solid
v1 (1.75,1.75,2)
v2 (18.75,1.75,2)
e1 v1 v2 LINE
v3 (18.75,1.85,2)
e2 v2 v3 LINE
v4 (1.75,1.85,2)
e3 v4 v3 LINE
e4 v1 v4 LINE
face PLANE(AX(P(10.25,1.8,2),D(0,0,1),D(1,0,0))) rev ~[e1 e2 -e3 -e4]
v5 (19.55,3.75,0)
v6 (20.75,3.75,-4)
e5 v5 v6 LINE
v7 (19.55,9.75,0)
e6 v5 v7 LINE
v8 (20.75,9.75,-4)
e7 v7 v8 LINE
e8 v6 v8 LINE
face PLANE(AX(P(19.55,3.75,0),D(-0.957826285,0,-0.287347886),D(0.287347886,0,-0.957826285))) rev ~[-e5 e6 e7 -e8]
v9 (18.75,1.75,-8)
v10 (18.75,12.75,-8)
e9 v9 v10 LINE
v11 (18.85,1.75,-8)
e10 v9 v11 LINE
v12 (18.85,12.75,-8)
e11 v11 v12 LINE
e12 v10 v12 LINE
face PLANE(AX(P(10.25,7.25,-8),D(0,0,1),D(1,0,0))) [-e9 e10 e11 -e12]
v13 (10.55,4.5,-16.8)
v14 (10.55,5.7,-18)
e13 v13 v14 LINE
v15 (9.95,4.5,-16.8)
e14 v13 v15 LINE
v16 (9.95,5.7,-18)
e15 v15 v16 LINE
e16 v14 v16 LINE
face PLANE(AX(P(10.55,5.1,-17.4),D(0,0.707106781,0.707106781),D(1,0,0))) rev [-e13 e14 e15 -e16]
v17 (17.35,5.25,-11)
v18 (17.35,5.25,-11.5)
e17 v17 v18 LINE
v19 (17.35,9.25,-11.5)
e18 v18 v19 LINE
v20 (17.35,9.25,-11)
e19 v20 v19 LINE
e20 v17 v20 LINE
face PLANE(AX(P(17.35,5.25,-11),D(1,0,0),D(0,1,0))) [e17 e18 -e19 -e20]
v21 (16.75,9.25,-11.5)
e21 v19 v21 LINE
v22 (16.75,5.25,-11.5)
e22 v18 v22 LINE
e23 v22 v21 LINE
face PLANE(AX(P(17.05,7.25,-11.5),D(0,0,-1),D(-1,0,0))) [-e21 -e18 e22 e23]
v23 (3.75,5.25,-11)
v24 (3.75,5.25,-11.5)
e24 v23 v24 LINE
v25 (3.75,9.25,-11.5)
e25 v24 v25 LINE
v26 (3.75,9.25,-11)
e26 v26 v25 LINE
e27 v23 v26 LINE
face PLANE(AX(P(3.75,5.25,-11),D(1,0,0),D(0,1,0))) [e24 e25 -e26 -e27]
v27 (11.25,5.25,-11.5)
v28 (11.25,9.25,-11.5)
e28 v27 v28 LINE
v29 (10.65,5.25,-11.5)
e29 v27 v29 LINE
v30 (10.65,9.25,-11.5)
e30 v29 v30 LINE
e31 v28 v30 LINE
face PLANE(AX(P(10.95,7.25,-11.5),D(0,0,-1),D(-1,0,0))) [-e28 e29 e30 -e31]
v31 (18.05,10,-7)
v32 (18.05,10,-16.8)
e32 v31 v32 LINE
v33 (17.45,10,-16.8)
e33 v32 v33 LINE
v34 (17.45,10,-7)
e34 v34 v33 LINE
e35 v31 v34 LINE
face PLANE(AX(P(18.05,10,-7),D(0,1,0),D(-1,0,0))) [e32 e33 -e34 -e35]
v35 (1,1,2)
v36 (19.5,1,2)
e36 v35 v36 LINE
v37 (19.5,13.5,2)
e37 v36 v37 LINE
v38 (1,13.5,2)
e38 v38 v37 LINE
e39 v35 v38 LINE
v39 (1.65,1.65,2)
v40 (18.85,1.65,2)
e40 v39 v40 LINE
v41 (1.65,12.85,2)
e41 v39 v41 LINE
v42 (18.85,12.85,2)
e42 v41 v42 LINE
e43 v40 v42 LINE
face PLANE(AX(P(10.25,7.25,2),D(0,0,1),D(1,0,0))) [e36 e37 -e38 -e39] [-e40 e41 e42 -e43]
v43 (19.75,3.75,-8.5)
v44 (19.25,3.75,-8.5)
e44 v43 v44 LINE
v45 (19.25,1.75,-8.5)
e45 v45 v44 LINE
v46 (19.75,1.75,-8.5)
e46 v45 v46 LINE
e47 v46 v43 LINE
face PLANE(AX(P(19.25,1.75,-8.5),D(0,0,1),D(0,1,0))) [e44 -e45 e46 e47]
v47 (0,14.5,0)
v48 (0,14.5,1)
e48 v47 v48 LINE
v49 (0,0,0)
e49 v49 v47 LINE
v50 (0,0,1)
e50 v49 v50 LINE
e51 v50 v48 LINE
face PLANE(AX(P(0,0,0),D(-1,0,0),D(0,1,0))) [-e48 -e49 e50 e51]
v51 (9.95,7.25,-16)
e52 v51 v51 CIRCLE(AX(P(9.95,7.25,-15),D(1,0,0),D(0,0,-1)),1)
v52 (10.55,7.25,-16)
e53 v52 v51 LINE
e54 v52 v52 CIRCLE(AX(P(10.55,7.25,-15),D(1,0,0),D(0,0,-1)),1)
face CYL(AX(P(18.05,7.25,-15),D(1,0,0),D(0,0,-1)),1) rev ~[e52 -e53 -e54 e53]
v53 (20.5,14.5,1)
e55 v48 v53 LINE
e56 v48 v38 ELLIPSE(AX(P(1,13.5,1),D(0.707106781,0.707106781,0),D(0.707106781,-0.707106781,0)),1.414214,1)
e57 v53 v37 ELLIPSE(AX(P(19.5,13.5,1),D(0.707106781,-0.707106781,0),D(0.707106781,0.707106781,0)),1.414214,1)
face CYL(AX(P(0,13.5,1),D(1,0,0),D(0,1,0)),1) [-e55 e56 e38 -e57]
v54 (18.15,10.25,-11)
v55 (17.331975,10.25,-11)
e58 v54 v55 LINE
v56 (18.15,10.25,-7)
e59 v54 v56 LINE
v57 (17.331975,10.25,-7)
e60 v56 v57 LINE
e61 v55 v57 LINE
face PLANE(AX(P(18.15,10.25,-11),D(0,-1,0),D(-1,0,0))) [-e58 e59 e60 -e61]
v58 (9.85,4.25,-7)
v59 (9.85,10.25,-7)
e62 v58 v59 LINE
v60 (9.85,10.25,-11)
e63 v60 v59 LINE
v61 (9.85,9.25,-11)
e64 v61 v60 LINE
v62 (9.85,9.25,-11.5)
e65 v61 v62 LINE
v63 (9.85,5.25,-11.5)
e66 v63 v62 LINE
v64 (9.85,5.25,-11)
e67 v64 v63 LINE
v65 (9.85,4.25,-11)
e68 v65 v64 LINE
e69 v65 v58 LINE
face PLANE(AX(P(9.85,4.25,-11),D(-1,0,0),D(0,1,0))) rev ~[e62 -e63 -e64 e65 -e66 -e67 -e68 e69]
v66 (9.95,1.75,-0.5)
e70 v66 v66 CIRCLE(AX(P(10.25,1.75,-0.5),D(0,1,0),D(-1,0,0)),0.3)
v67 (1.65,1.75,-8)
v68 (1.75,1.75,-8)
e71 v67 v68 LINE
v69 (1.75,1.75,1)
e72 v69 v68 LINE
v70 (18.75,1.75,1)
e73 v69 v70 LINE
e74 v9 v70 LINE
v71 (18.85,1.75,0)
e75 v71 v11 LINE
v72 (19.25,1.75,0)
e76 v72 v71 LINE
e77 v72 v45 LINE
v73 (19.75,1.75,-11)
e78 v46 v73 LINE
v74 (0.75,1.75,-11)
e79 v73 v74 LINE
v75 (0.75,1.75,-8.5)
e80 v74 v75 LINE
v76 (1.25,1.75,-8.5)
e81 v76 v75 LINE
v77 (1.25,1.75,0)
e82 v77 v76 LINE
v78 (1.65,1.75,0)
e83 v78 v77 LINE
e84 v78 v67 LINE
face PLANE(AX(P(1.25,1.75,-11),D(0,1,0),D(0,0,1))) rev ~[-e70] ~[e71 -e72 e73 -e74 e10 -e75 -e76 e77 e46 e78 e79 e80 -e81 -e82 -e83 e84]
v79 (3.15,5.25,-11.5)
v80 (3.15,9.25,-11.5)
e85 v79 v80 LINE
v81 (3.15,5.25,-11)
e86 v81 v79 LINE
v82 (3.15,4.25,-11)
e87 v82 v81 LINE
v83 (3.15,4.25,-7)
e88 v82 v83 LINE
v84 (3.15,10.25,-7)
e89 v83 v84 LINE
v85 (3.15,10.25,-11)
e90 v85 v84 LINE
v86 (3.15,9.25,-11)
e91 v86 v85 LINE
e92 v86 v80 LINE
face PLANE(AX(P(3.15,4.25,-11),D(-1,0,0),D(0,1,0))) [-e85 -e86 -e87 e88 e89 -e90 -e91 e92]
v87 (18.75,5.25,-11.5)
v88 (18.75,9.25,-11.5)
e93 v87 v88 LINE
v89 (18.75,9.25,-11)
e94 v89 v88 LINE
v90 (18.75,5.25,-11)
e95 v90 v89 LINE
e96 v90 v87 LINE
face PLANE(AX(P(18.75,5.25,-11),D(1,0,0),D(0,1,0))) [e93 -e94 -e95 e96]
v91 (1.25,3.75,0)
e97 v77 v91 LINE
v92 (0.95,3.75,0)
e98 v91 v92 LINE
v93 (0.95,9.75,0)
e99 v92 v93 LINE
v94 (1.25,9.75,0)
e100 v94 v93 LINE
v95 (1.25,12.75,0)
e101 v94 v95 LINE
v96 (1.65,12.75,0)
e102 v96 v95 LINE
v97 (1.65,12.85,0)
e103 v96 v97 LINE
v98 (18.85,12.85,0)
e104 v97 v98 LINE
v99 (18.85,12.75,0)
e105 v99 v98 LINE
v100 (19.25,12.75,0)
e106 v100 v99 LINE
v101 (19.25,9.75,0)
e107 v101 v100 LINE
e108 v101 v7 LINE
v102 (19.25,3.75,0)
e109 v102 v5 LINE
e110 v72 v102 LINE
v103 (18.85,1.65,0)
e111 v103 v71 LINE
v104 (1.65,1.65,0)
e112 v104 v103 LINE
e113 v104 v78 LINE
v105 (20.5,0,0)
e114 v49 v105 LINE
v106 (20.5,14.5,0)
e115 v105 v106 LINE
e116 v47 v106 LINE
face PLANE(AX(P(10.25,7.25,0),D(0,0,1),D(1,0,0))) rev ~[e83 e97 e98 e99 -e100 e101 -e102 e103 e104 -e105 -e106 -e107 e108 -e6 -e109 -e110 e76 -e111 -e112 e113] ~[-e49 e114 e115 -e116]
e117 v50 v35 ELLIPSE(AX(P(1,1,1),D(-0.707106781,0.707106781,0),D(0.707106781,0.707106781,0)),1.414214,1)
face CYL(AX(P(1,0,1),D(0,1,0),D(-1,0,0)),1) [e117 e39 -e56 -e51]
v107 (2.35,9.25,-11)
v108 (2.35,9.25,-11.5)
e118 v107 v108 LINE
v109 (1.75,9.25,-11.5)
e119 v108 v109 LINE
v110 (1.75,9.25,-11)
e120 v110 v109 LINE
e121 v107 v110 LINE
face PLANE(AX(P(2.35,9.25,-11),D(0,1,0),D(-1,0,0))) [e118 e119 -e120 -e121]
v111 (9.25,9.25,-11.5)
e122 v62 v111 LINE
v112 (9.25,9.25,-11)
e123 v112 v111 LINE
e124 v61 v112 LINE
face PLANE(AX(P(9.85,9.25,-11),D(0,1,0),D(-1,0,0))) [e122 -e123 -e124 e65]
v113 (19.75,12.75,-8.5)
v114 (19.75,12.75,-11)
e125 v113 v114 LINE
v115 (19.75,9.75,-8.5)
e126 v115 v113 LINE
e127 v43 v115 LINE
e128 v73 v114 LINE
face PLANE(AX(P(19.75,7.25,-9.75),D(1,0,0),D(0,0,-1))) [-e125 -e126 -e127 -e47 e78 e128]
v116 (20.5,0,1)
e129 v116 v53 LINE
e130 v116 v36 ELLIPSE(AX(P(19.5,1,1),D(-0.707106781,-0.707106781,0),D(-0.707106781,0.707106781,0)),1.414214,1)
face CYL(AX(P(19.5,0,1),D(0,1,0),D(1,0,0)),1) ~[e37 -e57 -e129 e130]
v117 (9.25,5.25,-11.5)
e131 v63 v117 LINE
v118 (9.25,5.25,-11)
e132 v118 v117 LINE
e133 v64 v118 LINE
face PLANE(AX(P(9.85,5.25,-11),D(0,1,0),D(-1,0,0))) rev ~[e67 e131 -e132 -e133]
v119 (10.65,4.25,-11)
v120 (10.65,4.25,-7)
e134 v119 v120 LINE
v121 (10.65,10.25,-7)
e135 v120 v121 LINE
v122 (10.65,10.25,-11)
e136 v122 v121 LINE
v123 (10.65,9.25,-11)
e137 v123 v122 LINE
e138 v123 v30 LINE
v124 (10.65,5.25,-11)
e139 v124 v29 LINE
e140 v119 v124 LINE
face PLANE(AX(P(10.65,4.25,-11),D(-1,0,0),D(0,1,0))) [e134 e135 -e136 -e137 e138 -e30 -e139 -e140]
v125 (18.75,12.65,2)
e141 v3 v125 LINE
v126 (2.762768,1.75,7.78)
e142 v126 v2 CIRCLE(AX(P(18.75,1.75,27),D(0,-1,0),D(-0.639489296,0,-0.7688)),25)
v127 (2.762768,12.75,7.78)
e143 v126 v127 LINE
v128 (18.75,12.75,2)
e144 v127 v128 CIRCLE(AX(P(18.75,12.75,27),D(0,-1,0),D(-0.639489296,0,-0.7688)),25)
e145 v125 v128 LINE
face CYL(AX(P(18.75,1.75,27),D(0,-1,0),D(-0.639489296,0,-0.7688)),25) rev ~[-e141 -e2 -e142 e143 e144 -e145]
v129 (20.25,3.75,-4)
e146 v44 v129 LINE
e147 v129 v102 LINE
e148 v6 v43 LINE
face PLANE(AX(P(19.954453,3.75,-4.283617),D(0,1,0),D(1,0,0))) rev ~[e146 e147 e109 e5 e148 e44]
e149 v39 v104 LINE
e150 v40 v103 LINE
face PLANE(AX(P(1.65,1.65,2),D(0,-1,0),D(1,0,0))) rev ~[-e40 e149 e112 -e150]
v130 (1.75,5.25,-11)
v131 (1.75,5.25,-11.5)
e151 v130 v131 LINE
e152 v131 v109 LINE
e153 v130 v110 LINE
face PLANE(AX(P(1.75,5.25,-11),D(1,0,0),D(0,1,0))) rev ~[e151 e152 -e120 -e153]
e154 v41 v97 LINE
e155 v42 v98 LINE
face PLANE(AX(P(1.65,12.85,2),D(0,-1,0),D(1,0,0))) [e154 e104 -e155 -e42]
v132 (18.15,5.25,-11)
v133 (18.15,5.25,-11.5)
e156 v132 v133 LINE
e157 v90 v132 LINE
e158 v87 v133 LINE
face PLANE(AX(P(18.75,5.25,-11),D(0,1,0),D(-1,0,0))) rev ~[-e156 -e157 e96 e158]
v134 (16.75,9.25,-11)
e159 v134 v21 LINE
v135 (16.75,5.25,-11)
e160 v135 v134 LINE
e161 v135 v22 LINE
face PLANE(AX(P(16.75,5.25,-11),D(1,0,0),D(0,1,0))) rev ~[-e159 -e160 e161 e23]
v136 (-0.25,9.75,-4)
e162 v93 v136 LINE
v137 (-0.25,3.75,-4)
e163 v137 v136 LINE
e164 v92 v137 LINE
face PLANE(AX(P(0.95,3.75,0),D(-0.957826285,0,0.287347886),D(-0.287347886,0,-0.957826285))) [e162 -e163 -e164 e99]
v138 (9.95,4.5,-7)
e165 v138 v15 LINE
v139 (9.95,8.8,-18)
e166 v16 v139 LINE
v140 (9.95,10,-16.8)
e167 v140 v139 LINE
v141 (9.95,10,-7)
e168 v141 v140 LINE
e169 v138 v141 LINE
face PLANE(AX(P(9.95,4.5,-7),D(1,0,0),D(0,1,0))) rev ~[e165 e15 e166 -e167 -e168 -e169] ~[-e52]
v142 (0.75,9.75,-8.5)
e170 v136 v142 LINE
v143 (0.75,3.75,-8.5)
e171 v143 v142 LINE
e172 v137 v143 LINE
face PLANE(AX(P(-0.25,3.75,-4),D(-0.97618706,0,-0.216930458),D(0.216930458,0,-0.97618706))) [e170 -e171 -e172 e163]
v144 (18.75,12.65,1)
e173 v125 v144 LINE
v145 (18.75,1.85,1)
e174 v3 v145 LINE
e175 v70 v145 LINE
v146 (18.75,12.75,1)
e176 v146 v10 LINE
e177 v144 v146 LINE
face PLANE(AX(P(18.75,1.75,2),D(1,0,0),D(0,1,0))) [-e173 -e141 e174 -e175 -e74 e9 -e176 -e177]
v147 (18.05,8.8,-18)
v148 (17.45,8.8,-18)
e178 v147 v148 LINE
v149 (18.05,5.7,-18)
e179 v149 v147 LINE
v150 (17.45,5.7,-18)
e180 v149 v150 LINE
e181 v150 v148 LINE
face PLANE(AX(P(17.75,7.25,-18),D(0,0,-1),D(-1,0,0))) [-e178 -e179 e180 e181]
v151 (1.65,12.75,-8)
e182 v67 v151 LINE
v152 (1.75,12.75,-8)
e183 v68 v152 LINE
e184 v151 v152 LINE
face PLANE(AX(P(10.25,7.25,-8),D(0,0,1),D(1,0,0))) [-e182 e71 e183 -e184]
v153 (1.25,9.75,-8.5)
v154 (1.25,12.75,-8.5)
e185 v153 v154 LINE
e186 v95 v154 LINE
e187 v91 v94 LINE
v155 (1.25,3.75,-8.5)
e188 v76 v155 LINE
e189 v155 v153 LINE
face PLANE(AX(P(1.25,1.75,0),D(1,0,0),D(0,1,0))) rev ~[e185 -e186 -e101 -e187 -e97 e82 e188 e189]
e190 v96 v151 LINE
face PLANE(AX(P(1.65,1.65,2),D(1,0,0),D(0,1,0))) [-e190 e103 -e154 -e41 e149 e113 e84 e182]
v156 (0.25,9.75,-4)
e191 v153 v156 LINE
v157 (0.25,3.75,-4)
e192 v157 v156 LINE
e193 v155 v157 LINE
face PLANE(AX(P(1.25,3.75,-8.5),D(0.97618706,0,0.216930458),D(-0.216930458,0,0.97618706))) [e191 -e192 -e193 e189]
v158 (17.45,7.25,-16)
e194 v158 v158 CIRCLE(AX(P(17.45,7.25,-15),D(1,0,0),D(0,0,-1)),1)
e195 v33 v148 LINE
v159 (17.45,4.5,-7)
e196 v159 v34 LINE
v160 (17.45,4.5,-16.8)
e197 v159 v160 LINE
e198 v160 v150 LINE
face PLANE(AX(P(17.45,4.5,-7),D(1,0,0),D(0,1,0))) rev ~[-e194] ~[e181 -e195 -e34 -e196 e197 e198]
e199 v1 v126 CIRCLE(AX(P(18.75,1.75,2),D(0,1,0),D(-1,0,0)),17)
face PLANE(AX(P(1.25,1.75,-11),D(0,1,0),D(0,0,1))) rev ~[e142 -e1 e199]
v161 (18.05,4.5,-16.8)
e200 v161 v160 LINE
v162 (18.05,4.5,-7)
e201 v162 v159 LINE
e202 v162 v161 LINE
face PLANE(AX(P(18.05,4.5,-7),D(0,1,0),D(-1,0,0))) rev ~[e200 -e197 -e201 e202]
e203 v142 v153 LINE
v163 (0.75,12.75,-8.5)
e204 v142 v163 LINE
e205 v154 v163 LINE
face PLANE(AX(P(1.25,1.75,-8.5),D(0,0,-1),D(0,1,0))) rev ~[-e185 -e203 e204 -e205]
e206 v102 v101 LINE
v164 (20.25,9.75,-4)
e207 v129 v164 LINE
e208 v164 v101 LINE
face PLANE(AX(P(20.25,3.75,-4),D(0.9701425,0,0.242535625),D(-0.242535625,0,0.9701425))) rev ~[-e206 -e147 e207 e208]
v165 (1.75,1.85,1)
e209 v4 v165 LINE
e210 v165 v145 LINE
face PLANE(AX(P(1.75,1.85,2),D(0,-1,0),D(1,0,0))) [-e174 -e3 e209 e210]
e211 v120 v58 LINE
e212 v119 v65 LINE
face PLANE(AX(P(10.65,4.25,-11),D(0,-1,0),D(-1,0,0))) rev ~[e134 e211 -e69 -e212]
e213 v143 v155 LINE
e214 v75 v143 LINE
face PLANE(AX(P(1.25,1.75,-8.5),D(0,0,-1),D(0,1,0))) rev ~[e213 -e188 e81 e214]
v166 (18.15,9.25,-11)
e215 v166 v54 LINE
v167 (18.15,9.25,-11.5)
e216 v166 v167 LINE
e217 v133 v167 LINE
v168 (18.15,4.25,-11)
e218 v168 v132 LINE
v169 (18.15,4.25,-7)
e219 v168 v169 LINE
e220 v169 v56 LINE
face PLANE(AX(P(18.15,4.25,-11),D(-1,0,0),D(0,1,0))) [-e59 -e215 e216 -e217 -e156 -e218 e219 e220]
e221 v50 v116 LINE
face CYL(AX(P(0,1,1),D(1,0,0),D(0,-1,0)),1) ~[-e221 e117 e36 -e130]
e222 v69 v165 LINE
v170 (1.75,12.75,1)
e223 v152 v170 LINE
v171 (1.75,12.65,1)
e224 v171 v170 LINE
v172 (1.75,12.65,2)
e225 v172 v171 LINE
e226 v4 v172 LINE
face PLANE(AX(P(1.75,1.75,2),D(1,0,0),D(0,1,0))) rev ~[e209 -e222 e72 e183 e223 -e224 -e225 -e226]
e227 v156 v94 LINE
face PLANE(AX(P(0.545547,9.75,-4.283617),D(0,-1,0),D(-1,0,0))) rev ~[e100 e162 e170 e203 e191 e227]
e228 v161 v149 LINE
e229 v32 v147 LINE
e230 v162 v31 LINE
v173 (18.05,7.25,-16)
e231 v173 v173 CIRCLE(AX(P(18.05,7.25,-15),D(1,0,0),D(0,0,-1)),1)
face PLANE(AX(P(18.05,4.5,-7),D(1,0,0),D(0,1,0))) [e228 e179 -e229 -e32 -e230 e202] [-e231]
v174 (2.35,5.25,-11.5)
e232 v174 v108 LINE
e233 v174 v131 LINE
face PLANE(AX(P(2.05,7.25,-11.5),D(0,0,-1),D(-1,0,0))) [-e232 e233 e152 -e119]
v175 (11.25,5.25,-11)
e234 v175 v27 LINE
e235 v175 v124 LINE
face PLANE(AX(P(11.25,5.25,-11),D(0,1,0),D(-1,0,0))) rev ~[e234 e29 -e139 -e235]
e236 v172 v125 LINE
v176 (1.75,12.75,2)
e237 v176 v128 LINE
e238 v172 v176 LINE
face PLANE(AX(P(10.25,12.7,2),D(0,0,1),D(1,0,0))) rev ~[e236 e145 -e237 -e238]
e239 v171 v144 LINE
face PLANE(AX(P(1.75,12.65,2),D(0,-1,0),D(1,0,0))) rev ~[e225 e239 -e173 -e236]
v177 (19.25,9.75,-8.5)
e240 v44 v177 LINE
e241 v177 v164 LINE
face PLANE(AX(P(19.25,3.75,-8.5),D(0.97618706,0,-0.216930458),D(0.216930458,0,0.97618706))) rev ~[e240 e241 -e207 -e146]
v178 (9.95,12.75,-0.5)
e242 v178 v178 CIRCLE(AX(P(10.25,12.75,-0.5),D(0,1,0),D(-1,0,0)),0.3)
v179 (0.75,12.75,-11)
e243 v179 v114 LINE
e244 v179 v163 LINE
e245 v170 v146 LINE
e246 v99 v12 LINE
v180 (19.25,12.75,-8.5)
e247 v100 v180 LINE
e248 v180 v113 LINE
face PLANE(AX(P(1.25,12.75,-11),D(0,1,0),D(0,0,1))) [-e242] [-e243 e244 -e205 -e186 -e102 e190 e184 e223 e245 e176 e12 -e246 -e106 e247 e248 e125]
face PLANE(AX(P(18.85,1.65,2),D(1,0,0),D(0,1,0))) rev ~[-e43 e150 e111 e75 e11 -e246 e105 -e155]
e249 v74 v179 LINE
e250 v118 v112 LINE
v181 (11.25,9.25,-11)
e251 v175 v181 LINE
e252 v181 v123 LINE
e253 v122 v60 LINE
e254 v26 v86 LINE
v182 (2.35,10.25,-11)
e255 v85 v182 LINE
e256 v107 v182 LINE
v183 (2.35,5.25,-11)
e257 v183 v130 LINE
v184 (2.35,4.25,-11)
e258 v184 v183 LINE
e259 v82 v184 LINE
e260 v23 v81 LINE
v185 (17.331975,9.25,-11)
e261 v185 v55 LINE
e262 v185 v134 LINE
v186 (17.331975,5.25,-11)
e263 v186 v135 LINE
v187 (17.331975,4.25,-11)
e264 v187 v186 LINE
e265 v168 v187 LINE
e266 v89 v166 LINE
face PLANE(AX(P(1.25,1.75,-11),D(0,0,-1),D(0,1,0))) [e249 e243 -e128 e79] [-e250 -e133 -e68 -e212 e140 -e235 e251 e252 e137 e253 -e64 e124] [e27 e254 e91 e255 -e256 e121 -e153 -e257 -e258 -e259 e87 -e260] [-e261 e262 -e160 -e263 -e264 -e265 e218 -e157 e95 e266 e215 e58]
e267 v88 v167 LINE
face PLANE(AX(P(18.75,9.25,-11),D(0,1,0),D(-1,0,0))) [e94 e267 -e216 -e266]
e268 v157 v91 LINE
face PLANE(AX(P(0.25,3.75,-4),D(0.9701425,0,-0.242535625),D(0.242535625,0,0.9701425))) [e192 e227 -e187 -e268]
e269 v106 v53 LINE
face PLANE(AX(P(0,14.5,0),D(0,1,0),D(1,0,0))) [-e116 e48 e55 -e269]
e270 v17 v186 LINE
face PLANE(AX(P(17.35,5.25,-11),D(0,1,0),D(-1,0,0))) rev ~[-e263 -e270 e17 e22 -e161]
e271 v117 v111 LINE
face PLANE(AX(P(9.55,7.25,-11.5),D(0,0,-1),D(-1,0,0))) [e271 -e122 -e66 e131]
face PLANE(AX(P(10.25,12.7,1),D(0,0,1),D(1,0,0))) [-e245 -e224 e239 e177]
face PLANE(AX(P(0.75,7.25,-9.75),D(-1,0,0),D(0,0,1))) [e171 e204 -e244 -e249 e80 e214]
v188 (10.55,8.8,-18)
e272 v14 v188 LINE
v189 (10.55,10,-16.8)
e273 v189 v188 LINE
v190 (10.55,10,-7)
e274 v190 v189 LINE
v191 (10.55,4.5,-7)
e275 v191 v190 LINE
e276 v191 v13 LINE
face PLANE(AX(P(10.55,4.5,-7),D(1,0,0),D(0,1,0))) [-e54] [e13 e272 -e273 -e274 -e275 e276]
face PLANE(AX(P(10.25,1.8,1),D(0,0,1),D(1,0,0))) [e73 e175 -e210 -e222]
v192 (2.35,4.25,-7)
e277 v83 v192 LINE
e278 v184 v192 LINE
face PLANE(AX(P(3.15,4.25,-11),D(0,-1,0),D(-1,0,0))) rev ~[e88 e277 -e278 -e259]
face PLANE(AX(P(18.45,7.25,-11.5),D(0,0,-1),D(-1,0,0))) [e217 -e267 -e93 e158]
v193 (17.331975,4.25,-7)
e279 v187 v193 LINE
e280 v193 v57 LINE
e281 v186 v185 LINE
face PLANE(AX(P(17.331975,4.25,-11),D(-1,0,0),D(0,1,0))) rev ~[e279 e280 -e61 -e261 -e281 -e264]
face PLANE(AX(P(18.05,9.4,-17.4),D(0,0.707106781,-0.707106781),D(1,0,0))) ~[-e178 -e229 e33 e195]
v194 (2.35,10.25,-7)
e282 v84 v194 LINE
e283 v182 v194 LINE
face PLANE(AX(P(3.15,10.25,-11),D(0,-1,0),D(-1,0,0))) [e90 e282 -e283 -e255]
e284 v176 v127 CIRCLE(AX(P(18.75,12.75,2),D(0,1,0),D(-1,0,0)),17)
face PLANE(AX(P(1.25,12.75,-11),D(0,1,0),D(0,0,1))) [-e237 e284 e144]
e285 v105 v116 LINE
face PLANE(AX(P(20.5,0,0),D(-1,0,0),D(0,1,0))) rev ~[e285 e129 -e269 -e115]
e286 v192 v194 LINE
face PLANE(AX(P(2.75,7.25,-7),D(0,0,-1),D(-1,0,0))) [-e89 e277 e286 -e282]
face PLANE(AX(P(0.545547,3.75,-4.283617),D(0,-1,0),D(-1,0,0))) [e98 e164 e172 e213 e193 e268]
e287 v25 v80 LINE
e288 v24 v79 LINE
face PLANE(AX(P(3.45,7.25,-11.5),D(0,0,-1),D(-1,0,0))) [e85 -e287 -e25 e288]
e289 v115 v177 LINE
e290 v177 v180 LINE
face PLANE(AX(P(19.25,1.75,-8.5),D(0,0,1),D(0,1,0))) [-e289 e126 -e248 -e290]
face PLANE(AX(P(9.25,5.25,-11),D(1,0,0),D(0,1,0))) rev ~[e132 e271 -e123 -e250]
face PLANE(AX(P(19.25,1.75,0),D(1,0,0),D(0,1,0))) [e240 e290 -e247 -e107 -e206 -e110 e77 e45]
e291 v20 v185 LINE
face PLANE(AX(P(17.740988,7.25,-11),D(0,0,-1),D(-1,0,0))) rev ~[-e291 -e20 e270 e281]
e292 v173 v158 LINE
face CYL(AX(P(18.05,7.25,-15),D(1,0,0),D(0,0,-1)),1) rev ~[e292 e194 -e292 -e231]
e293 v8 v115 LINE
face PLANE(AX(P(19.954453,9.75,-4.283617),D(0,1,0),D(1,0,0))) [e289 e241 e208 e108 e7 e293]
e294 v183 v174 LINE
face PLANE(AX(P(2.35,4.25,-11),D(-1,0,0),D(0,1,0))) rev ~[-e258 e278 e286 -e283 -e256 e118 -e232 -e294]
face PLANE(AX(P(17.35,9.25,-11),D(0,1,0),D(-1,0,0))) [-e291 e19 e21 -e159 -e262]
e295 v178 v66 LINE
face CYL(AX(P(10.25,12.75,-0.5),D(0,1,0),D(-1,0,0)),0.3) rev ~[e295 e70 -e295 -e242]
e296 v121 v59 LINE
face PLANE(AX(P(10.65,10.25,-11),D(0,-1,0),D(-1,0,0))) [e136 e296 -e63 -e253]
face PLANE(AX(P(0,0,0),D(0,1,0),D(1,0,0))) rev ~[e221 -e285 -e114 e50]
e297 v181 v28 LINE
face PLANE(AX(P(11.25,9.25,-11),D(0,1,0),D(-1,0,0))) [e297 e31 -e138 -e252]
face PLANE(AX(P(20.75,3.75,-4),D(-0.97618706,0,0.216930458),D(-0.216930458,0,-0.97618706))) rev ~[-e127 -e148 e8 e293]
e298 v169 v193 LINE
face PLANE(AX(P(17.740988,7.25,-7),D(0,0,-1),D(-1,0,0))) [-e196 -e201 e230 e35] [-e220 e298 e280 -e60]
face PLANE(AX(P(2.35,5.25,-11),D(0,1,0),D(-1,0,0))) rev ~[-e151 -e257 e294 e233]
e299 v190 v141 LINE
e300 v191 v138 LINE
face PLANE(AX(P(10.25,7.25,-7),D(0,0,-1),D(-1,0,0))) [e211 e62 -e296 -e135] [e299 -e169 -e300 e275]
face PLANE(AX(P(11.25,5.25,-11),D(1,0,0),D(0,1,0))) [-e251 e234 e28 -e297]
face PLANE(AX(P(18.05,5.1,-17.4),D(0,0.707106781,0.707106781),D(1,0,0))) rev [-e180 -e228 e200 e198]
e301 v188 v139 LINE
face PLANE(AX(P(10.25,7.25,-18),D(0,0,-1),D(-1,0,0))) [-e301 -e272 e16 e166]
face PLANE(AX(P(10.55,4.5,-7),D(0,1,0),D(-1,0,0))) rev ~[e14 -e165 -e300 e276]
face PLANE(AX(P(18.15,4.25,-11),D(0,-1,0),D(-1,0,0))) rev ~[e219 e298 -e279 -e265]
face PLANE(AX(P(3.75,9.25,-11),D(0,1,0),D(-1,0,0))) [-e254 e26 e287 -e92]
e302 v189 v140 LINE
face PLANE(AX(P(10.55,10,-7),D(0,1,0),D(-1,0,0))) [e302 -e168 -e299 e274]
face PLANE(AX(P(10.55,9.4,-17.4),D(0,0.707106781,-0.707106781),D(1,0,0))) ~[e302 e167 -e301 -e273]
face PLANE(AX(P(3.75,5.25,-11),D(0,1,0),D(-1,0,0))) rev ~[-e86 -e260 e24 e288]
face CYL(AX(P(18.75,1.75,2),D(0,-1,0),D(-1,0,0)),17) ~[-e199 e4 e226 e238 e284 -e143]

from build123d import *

# Parameters (mm, degrees)
SKETCH_1_W          = 20.5
SKETCH_1_H          = 14.5
EXTRUDE_1_DEPTH     = 2
FILLET_1_R          = 1
SKETCH_2_W          = 18
SKETCH_2_H          = 11
EXTRUDE_2_DEPTH     = 11
SKETCH_3_W          = 2.5
SKETCH_3_H          = 11
EXTRUDE_3_DEPTH     = 0.5
SKETCH_4_W          = 2.5
SKETCH_4_H          = 11
EXTRUDE_4_DEPTH     = 0.5
SKETCH_5_R          = 0.3
CUT_EXTRUDE_1_DEPTH = 27.529464751
SKETCH_6_W          = 0.6
SKETCH_6_H          = 4
EXTRUDE_5_DEPTH     = 0.5
SKETCH_7_W          = 0.818024616
SKETCH_7_H          = 6
SKETCH_7_W_2        = 0.8
CUT_EXTRUDE_2_DEPTH = 4
SKETCH_8_W          = 0.6
SKETCH_8_H          = 5.5
EXTRUDE_6_DEPTH     = 11
CHAMFER_1_SIZE      = 1.2
SKETCH_9_R          = 1
CUT_EXTRUDE_3_DEPTH = 30.326651701
EXTRUDE_7_DEPTH     = 6
EXTRUDE_8_DEPTH     = 11
SKETCH_12_W         = 17.2
SKETCH_12_H         = 11.2
SKETCH_12_W_2       = 17
SKETCH_12_H_2       = 11
CUT_EXTRUDE_4_DEPTH = 10
SKETCH_13_W         = 17
SKETCH_13_H         = 0.1
CUT_EXTRUDE_5_DEPTH = 1


with BuildPart() as part:
    # 草图1 → 凸台-拉伸1 (new body)
    with BuildSketch(Plane.XY):
        with Locations((10.25, 7.25)):
            Rectangle(SKETCH_1_W, SKETCH_1_H)
    extrude(amount=EXTRUDE_1_DEPTH)

    # 圆角1
    fillet_1_edges = [part.edges().sort_by_distance(p)[0] for p in [
        (20.5, 7.25, 2),
        (10.25, 14.5, 2),
        (0, 7.25, 2),
        (10.25, 0, 2),
    ]]
    fillet(fillet_1_edges, radius=FILLET_1_R)

    # 草图2 → 凸台-拉伸2 (add)
    with BuildSketch(Plane(origin=(0, 0, 0), x_dir=(-1, 0, 0), z_dir=(0, 0, -1))):
        with Locations((-10.25, 7.25)):
            Rectangle(SKETCH_2_W, SKETCH_2_H)
    extrude(amount=EXTRUDE_2_DEPTH)

    # 草图3 → 凸台-拉伸3 (add)
    with BuildSketch(Plane(origin=(19.25, 0, 0), x_dir=(0, 0, -1), z_dir=(1, 0, 0))):
        with Locations((9.75, 7.25)):
            Rectangle(SKETCH_3_W, SKETCH_3_H)
    extrude(amount=EXTRUDE_3_DEPTH)

    # 草图4 → 凸台-拉伸4 (add)
    with BuildSketch(Plane.ZY.offset(-1.25)):
        with Locations((-9.75, 7.25)):
            Rectangle(SKETCH_4_W, SKETCH_4_H)
    extrude(amount=EXTRUDE_4_DEPTH)

    # 草图5 → 切除-拉伸1 (cut, through all)
    with BuildSketch(Plane(origin=(0, 12.75, 0), x_dir=(1, 0, 0), z_dir=(0, 1, 0))):
        with Locations(Location((10.25, 0.5, 0), (0, 0, 180))):
            Circle(SKETCH_5_R)
    extrude(amount=-CUT_EXTRUDE_1_DEPTH, mode=Mode.SUBTRACT)

    # 草图6 → 凸台-拉伸5 (add)
    with BuildSketch(Plane(origin=(0, 0, -11), x_dir=(-1, 0, 0), z_dir=(0, 0, -1))):
        with Locations((-18.45, 7.25)):
            Rectangle(SKETCH_6_W, SKETCH_6_H)
        with Locations((-17.05, 7.25)):
            Rectangle(SKETCH_6_W, SKETCH_6_H)
        with Locations((-10.95, 7.25)):
            Rectangle(SKETCH_6_W, SKETCH_6_H)
        with Locations((-9.55, 7.25)):
            Rectangle(SKETCH_6_W, SKETCH_6_H)
        with Locations((-3.45, 7.25)):
            Rectangle(SKETCH_6_W, SKETCH_6_H)
        with Locations((-2.05, 7.25)):
            Rectangle(SKETCH_6_W, SKETCH_6_H)
    extrude(amount=EXTRUDE_5_DEPTH)

    # 草图7 → 切除-拉伸2 (cut)
    with BuildSketch(Plane(origin=(0, 0, -11), x_dir=(-1, 0, 0), z_dir=(0, 0, -1))):
        with Locations((-17.740987692, 7.25)):
            Rectangle(SKETCH_7_W, SKETCH_7_H)
        with Locations((-10.25, 7.25)):
            Rectangle(SKETCH_7_W_2, SKETCH_7_H)
        with Locations((-2.75, 7.25)):
            Rectangle(SKETCH_7_W_2, SKETCH_7_H)
    extrude(amount=-CUT_EXTRUDE_2_DEPTH, mode=Mode.SUBTRACT)

    # 草图8 → 凸台-拉伸6 (add)
    with BuildSketch(Plane(origin=(0, 0, -7), x_dir=(-1, 0, 0), z_dir=(0, 0, -1))):
        with Locations((-17.75, 7.25)):
            Rectangle(SKETCH_8_W, SKETCH_8_H)
        with Locations((-10.25, 7.25)):
            Rectangle(SKETCH_8_W, SKETCH_8_H)
    extrude(amount=EXTRUDE_6_DEPTH)

    # 倒角1
    chamfer_1_edges = [part.edges().sort_by_distance(p)[0] for p in [
        (17.75, 4.5, -18),
        (17.75, 10, -18),
        (10.25, 4.5, -18),
        (10.25, 10, -18),
    ]]
    chamfer(chamfer_1_edges, length=CHAMFER_1_SIZE)

    # 草图9 → 切除-拉伸3 (cut, through all)
    with BuildSketch(Plane(origin=(18.05, 0, 0), x_dir=(0, 0, -1), z_dir=(1, 0, 0))):
        with Locations((15, 7.25)):
            Circle(SKETCH_9_R)
    extrude(amount=-CUT_EXTRUDE_3_DEPTH, mode=Mode.SUBTRACT)

    # 草图10 → 凸台-拉伸7 (add)
    with BuildSketch(Plane(origin=(0, 3.75, 0), x_dir=(-1, 0, 0), z_dir=(0, -1, 0))):
        Polygon((-19.25, 0), (-19.55, 0), (-20.75, 4), (-19.75, 8.5), (-19.25, 8.5), (-20.25, 4), align=None)
        Polygon((-1.25, 0), (-0.95, 0), (0.25, 4), (-0.75, 8.5), (-1.25, 8.5), (-0.25, 4), align=None)
    extrude(amount=-EXTRUDE_7_DEPTH)

    # 草图11 → 凸台-拉伸8 (add)
    with BuildSketch(Plane.XZ.offset(-1.75)):
        with BuildLine():
            Line((18.75, 2), (1.75, 2))
            ThreePointArc((1.75, 2), (2.005105989, 4.934028723), (2.762767594, 7.78))
            ThreePointArc((2.762767594, 7.78), (10.25, 3.489364109), (18.75, 2))
        make_face()
    extrude(amount=-EXTRUDE_8_DEPTH)

    # 草图12 → 切除-拉伸4 (cut)
    with BuildSketch(Plane.XY.offset(2)):
        with Locations((10.25, 7.25)):
            Rectangle(SKETCH_12_W, SKETCH_12_H)
        with Locations((10.25, 7.25)):
            Rectangle(SKETCH_12_W_2, SKETCH_12_H_2, mode=Mode.SUBTRACT)
    extrude(amount=-CUT_EXTRUDE_4_DEPTH, mode=Mode.SUBTRACT)

    # 草图13 → 切除-拉伸5 (cut)
    with BuildSketch(Plane.XY.offset(2)):
        with Locations((10.25, 1.8)):
            Rectangle(SKETCH_13_W, SKETCH_13_H)
        with Locations((10.25, 12.7)):
            Rectangle(SKETCH_13_W, SKETCH_13_H)
    extrude(amount=-CUT_EXTRUDE_5_DEPTH, mode=Mode.SUBTRACT)


solid = part.part
